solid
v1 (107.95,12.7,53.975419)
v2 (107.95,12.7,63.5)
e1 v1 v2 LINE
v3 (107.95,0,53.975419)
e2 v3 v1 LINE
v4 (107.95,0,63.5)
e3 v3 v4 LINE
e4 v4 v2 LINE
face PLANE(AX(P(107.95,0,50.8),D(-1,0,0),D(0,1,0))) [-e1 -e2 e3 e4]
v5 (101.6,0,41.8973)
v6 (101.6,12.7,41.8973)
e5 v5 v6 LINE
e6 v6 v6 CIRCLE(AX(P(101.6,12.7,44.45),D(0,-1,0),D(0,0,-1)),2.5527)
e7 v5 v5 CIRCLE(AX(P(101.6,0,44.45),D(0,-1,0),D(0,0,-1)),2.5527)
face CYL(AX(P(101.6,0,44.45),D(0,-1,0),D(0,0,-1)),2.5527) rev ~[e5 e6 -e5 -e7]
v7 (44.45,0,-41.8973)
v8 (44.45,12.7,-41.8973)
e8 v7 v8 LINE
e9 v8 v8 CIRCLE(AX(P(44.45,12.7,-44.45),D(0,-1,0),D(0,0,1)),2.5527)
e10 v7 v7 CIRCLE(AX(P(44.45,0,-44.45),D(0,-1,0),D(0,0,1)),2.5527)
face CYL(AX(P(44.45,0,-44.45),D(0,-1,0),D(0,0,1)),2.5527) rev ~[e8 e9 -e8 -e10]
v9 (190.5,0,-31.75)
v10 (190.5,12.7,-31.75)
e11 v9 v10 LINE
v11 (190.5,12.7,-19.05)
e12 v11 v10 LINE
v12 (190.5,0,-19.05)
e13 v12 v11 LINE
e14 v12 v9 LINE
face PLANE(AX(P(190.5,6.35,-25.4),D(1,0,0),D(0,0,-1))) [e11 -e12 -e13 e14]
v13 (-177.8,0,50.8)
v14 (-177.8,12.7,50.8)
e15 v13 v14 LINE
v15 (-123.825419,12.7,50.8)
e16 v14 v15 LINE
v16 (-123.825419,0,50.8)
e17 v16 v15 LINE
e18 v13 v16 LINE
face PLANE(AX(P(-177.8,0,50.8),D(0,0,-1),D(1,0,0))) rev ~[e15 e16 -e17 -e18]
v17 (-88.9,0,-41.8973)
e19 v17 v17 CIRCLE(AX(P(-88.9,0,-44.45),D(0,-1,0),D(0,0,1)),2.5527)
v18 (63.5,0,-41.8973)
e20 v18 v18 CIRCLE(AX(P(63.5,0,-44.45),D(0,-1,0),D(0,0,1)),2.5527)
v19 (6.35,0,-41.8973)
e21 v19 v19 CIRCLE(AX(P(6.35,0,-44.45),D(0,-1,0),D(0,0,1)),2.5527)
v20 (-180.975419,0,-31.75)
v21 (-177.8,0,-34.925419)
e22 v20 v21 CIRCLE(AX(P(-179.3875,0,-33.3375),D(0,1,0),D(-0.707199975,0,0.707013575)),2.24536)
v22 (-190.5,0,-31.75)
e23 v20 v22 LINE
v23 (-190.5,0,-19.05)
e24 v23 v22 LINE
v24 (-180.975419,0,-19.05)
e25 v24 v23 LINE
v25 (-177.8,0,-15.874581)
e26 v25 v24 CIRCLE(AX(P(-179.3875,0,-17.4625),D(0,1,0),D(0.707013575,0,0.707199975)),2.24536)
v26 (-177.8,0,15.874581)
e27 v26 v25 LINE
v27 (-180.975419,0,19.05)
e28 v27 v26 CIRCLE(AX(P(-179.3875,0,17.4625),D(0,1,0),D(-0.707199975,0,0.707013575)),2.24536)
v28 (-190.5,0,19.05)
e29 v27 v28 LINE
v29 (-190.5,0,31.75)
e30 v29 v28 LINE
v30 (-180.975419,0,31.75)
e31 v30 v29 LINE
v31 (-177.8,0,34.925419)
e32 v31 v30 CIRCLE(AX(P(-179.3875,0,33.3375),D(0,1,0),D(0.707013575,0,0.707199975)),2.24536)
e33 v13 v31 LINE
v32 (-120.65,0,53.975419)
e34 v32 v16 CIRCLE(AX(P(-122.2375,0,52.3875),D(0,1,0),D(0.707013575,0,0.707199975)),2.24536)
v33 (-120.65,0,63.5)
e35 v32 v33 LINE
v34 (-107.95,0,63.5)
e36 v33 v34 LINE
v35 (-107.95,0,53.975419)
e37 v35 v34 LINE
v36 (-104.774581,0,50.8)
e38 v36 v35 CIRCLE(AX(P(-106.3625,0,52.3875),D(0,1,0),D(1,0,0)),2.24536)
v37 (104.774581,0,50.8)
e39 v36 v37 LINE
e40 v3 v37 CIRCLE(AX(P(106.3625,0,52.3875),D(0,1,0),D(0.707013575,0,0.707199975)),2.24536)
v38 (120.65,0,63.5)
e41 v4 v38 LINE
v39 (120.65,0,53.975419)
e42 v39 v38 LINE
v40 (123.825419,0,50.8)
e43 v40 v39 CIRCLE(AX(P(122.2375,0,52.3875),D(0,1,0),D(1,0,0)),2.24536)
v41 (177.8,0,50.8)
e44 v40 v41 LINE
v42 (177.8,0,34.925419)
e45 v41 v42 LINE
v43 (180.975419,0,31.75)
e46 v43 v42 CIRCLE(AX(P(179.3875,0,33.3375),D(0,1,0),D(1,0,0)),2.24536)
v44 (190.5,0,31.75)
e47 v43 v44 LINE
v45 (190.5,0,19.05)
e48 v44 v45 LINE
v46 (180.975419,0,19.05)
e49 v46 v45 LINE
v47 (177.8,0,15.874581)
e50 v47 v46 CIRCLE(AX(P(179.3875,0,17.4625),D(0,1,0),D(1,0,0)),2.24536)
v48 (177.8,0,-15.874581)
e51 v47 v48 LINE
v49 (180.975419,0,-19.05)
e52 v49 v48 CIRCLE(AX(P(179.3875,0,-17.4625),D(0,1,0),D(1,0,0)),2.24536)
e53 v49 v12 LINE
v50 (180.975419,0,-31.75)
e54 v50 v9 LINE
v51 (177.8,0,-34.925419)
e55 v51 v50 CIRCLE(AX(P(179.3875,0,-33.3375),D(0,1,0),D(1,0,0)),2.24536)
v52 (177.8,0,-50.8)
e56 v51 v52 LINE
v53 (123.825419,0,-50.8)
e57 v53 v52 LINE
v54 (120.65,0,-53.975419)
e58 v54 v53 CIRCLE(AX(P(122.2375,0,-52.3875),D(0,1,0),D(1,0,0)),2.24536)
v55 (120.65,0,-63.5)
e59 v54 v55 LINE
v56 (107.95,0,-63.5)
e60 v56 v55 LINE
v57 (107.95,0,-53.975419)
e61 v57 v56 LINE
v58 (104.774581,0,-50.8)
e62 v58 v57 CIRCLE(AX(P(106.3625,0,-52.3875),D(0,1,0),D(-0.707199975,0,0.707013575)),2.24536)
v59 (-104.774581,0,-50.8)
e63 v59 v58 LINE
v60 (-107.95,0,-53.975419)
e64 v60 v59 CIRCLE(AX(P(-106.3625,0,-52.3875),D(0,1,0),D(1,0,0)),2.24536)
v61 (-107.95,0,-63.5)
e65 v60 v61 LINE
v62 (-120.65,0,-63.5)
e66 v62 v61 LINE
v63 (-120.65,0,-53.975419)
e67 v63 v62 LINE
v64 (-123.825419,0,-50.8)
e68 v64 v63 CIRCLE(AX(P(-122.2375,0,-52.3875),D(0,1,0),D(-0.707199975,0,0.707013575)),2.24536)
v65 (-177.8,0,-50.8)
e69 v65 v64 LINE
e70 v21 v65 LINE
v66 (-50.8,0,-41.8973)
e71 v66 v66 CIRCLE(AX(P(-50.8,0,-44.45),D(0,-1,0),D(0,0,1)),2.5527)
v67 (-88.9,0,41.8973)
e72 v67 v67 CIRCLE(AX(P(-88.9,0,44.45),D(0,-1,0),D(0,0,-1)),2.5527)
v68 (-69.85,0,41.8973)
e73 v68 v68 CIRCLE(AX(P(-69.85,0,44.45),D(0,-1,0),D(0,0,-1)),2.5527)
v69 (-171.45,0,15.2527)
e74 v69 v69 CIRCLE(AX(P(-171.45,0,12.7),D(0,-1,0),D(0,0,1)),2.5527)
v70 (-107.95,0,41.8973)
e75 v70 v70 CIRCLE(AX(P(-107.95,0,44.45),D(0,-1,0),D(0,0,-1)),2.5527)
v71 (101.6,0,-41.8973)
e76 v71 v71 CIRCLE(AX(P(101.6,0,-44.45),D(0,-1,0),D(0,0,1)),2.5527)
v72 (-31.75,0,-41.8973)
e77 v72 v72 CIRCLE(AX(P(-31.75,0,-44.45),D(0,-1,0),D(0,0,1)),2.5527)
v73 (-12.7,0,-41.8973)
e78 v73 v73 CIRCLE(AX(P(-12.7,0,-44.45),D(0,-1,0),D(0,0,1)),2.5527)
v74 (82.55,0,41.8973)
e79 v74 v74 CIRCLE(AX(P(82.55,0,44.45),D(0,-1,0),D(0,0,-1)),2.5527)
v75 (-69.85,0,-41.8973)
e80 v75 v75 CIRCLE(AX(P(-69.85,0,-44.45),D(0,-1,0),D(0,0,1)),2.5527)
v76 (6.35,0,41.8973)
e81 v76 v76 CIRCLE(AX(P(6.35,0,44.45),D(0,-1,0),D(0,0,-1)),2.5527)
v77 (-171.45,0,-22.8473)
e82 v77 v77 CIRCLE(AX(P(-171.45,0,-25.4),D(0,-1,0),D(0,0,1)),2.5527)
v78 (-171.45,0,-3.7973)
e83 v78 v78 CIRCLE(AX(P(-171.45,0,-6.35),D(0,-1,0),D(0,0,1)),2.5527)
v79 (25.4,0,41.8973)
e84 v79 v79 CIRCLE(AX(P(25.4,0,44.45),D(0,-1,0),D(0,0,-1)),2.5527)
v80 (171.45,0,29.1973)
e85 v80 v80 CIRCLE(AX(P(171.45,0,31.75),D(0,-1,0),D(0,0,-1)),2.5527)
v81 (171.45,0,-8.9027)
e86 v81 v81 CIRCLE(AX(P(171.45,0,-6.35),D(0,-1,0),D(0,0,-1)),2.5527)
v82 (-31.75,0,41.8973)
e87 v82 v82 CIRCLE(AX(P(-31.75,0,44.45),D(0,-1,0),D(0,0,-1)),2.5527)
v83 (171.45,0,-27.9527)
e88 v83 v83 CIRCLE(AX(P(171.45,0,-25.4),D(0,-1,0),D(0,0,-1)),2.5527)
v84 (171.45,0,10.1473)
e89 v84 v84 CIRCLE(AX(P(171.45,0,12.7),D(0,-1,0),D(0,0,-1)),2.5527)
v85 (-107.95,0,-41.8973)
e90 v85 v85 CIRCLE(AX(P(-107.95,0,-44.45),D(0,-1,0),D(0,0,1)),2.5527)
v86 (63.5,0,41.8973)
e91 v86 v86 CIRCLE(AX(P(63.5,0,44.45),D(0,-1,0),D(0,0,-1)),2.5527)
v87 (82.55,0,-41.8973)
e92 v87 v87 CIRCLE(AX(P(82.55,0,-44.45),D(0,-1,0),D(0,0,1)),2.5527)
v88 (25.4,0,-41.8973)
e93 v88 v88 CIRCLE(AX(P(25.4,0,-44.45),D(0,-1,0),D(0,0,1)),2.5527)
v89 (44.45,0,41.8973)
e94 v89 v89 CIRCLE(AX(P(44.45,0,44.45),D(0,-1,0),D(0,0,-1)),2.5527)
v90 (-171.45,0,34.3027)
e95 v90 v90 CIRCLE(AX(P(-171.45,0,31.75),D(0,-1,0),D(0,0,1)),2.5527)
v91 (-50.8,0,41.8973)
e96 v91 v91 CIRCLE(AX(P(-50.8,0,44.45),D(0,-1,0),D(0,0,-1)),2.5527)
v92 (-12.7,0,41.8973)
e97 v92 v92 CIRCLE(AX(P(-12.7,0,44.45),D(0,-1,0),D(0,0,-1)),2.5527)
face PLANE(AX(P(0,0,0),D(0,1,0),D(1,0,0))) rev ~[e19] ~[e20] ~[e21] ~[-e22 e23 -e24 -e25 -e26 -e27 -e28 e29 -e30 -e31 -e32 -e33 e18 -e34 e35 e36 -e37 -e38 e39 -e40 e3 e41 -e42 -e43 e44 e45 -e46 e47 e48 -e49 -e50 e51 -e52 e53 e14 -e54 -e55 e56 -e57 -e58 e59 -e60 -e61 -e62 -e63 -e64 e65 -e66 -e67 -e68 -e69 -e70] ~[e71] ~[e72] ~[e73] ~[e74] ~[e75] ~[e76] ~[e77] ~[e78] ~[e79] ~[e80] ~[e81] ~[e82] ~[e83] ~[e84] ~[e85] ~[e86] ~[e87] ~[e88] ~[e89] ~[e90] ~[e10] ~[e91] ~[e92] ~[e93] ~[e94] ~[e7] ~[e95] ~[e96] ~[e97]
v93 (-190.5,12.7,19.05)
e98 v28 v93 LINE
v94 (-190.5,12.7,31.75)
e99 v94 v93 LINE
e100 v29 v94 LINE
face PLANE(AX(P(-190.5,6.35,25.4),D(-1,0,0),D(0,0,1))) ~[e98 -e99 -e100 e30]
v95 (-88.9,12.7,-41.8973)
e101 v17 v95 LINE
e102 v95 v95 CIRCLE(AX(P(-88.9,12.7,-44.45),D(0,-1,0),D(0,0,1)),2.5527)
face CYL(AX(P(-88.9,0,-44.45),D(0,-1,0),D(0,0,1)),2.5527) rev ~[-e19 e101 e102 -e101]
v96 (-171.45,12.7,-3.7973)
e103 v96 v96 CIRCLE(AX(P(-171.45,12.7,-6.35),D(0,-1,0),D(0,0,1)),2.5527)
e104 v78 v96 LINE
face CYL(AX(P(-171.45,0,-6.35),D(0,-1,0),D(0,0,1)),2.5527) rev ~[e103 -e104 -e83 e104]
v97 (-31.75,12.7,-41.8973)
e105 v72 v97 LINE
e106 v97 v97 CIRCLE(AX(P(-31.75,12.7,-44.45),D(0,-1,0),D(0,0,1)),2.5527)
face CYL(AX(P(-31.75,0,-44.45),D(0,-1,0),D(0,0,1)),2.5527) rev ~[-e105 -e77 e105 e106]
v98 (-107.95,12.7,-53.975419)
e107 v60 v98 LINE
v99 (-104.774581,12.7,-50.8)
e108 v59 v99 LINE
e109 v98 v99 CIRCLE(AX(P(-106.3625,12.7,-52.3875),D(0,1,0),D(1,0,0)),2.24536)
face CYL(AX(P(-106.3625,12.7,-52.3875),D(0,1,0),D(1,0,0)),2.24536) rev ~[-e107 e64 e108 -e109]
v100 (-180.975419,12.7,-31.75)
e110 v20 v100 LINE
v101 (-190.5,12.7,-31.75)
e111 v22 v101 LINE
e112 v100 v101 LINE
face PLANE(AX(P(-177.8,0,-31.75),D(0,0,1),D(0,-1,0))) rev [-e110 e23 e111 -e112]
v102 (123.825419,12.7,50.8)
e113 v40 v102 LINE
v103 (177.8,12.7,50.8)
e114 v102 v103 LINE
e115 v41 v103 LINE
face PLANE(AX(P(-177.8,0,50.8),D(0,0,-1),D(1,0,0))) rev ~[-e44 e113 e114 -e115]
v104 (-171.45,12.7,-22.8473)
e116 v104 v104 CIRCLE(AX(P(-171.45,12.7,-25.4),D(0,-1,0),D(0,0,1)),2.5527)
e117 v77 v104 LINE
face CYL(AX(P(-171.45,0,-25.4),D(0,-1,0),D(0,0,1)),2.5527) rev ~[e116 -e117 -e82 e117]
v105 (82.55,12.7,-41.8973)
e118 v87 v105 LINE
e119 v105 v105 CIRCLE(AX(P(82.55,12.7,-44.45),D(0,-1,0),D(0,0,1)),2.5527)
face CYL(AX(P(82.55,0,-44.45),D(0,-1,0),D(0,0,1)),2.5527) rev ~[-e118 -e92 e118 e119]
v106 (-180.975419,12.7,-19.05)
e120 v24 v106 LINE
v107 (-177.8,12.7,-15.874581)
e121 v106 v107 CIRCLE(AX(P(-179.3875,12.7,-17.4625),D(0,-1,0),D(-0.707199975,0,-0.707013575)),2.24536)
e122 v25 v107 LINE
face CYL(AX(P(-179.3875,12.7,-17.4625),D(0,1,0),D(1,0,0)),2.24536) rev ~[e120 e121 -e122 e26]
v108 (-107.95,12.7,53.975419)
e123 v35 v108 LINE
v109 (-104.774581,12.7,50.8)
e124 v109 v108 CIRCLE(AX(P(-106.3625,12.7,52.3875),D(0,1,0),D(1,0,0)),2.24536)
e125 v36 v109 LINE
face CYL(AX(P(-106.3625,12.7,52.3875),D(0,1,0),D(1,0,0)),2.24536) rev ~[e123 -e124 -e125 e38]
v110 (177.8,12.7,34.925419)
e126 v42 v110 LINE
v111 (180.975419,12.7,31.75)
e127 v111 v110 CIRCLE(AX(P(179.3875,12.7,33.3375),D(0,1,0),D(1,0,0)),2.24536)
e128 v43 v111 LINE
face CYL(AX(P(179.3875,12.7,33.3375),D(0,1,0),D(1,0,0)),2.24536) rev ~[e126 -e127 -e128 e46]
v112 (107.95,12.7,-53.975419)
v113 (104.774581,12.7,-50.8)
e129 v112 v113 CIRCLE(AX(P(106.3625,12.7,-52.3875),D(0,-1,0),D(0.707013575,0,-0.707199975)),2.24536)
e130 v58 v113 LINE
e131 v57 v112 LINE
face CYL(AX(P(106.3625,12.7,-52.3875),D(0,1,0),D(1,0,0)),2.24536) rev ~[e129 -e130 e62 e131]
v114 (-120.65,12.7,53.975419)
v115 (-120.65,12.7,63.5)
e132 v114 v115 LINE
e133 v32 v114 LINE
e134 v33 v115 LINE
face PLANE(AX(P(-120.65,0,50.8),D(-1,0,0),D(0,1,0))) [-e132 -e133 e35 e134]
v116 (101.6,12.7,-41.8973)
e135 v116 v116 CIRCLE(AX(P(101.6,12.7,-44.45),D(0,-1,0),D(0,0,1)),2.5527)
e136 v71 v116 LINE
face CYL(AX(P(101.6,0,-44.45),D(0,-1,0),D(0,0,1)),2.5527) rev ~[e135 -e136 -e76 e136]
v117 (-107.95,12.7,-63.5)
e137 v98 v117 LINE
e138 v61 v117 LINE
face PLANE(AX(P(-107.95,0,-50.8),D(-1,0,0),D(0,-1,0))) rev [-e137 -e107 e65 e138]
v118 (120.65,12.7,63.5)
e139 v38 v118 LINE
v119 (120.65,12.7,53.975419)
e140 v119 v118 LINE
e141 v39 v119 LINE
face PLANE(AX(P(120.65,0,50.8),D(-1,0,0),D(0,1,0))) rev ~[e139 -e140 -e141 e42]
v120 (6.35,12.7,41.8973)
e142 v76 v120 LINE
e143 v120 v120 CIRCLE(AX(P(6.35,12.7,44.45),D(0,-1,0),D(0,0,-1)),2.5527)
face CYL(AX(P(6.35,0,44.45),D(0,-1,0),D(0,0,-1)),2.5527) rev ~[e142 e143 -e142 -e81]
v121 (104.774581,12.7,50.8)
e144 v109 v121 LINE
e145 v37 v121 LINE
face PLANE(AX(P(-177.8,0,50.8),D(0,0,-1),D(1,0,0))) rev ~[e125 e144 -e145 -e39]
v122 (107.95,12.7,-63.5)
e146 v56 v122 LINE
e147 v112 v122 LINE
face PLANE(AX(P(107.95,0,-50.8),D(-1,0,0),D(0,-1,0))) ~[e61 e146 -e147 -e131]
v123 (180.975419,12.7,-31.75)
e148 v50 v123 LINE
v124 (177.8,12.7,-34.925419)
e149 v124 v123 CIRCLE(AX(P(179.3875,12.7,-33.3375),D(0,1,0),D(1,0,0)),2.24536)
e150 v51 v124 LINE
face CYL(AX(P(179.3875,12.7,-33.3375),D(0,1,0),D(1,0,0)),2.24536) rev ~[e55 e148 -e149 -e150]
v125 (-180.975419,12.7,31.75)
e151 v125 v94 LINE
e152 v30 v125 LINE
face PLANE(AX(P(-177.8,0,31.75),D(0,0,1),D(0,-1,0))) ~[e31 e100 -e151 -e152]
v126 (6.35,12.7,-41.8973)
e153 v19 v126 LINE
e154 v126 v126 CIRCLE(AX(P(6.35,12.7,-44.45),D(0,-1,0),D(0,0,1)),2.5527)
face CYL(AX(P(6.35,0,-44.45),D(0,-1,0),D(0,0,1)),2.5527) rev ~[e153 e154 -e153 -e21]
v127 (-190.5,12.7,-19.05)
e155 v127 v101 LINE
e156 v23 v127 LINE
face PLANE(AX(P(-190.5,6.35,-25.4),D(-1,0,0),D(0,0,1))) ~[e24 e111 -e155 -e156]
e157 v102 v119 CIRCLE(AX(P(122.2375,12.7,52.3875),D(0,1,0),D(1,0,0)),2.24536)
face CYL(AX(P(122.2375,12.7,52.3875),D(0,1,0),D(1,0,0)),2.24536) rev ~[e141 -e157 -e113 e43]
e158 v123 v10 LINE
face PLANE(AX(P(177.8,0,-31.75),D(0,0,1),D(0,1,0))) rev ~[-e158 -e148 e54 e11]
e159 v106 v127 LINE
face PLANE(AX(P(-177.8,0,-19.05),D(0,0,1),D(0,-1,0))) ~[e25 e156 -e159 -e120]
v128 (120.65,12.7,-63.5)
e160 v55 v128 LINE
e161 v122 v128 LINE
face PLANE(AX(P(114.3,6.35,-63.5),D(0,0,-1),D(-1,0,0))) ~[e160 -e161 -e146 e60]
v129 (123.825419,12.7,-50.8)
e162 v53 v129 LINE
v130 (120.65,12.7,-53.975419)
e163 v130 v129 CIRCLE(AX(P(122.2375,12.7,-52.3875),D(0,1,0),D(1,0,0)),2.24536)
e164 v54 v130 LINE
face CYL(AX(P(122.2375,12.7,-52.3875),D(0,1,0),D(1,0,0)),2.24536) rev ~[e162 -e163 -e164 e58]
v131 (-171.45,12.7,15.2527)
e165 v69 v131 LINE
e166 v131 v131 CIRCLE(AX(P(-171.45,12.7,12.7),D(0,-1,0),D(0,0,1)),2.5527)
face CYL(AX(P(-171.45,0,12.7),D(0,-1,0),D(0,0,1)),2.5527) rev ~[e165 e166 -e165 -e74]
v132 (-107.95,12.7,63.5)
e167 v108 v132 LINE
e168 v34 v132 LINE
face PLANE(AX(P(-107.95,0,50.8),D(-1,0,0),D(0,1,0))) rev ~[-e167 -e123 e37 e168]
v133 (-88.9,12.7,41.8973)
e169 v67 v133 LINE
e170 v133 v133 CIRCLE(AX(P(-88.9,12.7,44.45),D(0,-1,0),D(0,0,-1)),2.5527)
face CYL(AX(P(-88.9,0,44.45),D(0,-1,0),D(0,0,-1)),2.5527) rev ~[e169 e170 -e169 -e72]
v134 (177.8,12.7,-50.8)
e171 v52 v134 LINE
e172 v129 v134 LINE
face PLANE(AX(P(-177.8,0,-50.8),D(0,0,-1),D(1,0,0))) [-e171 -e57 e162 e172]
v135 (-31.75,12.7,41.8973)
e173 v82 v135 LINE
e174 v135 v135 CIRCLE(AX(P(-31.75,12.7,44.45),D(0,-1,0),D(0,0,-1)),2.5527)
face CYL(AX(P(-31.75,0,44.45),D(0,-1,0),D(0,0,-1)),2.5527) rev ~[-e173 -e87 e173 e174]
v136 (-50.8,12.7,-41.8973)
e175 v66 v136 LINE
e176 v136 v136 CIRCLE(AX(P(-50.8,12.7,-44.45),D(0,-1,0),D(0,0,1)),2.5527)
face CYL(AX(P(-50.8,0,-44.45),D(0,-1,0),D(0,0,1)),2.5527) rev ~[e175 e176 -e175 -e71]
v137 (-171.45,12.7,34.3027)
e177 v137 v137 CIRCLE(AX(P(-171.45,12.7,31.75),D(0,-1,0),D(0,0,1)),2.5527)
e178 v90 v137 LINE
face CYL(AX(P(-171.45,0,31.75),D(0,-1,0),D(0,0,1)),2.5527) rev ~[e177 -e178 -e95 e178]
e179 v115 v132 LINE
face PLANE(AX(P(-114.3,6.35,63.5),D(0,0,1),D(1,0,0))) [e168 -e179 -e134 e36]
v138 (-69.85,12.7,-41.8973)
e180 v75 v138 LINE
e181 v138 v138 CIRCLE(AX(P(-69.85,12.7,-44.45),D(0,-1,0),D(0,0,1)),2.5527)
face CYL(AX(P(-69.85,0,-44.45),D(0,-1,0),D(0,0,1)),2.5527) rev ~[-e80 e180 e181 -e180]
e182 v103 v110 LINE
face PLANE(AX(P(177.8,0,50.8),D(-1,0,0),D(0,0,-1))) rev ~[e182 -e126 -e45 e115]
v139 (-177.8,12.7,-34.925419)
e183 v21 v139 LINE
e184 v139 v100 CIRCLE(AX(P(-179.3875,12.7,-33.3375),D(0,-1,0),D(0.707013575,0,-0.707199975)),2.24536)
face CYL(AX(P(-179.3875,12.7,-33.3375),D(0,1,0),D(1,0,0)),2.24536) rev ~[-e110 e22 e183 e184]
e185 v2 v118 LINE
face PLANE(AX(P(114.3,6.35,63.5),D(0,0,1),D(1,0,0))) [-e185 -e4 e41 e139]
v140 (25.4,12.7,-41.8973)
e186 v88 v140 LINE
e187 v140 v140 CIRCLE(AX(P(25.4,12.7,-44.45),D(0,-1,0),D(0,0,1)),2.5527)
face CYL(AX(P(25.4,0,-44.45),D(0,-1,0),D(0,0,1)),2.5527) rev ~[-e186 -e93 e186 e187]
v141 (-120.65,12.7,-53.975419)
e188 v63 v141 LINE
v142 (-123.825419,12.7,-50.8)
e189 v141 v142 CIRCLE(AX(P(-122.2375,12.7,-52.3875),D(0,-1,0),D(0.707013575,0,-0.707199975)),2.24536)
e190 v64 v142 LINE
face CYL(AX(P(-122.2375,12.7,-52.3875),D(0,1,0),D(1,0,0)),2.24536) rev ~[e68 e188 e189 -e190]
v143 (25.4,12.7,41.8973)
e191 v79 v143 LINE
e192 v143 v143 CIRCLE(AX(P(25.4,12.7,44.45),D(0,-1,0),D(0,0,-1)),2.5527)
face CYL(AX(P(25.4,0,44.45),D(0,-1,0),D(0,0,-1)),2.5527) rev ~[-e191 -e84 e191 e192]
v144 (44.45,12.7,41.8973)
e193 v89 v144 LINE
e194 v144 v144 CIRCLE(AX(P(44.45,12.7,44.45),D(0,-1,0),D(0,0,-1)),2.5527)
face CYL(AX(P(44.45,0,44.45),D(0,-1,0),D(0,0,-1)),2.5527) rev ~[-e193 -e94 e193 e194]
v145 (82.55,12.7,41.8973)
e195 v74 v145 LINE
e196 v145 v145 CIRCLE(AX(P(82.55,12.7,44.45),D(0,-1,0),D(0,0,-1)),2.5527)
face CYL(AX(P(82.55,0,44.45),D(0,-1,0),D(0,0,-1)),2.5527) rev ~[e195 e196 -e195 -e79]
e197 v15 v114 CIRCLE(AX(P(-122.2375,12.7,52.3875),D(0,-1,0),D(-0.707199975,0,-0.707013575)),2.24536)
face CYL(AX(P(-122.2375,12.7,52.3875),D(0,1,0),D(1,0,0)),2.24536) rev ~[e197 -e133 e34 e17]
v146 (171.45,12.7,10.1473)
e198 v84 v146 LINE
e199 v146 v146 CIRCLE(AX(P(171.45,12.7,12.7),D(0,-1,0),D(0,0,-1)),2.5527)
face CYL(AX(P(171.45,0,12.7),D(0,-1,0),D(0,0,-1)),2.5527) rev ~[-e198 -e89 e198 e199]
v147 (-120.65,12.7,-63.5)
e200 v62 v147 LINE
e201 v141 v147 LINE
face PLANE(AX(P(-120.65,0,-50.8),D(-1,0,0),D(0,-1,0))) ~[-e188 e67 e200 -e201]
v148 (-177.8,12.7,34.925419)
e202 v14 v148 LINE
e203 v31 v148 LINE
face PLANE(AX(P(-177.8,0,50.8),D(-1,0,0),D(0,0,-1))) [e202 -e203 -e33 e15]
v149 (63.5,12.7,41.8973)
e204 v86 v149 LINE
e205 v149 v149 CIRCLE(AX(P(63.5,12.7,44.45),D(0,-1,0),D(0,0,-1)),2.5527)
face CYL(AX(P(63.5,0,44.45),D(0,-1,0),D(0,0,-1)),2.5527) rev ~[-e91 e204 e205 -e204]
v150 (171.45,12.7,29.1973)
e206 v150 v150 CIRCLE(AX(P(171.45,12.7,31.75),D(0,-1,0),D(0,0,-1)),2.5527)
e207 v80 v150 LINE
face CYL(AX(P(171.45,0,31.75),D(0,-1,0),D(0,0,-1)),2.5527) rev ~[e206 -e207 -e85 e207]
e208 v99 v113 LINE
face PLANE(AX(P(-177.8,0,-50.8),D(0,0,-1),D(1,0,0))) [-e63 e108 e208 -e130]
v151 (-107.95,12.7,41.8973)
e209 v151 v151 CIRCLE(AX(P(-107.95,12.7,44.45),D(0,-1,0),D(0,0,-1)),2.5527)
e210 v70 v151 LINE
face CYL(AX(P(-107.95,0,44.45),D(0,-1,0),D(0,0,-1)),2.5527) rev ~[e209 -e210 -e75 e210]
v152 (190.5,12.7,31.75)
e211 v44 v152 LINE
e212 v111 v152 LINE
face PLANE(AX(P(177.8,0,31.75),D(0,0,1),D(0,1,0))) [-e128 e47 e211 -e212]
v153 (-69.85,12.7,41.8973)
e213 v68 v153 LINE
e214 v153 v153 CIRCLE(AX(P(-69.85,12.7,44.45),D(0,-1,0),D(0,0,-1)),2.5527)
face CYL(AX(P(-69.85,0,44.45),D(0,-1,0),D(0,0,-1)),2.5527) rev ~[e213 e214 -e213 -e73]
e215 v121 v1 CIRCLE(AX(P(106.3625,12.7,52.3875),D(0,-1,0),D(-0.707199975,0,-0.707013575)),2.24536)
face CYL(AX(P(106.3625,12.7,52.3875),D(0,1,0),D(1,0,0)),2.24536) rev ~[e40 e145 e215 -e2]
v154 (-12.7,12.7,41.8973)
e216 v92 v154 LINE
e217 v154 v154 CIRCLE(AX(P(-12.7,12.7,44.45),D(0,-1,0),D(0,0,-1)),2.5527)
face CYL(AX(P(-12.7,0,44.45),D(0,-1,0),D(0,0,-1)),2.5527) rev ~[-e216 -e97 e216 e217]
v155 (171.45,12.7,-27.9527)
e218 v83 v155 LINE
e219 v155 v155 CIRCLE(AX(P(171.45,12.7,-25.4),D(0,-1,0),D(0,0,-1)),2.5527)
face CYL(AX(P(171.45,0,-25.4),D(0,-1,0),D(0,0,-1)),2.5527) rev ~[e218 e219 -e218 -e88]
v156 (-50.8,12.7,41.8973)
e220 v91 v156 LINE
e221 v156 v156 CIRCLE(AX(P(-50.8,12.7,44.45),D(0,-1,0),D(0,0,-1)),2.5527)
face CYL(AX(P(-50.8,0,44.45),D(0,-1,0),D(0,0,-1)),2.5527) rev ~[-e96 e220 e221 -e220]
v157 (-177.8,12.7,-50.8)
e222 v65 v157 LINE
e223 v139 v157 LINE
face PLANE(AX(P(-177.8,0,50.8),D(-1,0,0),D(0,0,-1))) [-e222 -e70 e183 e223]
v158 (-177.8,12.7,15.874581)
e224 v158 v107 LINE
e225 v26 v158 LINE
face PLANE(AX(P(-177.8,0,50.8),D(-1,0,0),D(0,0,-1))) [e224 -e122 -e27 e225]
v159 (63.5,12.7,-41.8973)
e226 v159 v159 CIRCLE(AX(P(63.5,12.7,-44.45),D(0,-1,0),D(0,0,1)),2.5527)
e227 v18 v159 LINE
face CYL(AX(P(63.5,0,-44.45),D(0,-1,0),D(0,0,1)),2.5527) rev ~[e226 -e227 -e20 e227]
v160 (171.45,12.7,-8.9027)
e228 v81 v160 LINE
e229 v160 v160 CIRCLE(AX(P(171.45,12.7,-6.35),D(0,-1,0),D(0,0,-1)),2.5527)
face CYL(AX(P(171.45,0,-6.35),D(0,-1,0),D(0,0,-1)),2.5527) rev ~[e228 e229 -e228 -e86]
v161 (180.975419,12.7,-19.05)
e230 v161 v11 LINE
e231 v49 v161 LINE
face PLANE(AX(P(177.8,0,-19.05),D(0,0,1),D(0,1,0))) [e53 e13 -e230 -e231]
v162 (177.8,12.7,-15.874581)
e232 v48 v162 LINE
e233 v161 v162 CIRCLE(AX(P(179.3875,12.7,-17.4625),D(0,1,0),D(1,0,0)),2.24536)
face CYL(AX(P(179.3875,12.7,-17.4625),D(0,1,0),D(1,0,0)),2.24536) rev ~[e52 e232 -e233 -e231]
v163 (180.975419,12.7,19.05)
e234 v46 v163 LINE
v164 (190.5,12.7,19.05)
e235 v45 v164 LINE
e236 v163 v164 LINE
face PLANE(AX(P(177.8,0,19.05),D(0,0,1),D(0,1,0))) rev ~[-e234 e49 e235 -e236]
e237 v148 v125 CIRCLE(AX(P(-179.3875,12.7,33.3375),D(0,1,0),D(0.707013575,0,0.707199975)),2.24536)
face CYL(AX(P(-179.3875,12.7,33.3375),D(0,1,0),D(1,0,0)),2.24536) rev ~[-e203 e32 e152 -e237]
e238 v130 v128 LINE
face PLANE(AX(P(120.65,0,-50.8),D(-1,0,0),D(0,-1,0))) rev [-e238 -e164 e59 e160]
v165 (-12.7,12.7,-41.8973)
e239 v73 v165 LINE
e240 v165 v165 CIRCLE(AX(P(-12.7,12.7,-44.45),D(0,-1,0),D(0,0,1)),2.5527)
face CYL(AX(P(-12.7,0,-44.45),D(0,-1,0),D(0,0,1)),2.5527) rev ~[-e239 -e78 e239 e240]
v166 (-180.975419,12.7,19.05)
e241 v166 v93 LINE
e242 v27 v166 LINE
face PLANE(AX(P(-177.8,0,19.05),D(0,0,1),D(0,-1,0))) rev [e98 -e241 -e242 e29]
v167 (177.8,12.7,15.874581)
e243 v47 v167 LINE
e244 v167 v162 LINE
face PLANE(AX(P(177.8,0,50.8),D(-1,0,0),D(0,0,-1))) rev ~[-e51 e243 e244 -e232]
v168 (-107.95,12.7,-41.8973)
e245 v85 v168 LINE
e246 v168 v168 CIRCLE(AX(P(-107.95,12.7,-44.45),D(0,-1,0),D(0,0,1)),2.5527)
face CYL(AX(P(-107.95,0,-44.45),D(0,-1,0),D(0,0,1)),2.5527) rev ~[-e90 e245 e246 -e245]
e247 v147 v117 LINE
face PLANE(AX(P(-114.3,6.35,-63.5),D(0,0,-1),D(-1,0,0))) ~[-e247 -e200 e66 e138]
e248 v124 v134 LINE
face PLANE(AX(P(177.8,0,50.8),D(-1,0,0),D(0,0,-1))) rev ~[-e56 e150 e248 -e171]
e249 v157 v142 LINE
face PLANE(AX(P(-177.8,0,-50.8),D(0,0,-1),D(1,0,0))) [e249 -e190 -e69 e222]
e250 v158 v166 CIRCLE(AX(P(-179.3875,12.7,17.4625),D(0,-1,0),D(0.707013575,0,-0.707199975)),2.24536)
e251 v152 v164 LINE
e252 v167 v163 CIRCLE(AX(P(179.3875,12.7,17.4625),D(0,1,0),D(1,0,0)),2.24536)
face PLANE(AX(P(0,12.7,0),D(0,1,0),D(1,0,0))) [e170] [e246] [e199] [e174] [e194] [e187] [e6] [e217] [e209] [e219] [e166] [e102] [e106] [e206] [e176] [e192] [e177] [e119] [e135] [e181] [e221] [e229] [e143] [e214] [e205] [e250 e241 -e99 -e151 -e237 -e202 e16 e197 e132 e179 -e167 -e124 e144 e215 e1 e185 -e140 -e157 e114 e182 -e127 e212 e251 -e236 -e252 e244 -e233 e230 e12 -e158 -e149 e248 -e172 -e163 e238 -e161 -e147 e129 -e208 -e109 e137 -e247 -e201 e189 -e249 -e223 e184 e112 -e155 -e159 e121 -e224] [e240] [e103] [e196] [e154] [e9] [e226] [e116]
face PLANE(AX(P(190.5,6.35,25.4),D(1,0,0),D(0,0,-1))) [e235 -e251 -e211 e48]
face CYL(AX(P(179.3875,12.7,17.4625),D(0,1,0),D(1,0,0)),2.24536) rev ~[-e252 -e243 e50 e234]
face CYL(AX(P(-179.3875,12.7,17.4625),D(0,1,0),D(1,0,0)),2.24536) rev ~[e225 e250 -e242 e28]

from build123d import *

# Parameters (mm, degrees)
SKETCH2_W                  = 355.6
SKETCH2_H                  = 101.6
RECTANGLE_EXTRUSION_DEPTH  = 12.7
SKETCH4_W                  = 12.7
SKETCH4_H                  = 12.7
FRONT_FACE_TABS_DEPTH      = 12.7
SKETCH6_R                  = 2.24536
TAB_CURVE_FRONT_BACK_DEPTH = 12.7
SKETCH7_W                  = 12.7
SKETCH7_H                  = 12.7
RIGHT_FACE_TABS_DEPTH      = 12.7
SKETCH8_R                  = 2.24536
TAB_CURVE_LEFT_RIGHT_DEPTH = 12.7
SKETCH9_R                  = 2.5527
CUT_EXTRUDE1_DEPTH         = 202.205839875


with BuildPart() as part:
    # Sketch2 → Rectangle Extrusion (new body)
    with BuildSketch(Plane(origin=(0, 0, 0), x_dir=(1, 0, 0), z_dir=(0, 1, 0))):
        Rectangle(SKETCH2_W, SKETCH2_H)
    extrude(amount=RECTANGLE_EXTRUSION_DEPTH)

    # Sketch4 → Front Face Tabs (add)
    with BuildSketch(Plane.XY.offset(50.8)):
        with Locations((-114.3, 6.35)):
            Rectangle(SKETCH4_W, SKETCH4_H)
        with Locations((114.3, 6.35)):
            Rectangle(SKETCH4_W, SKETCH4_H)
    front_face_tabs = extrude(amount=FRONT_FACE_TABS_DEPTH)

    # Mirror Rear Face Tabs: Front Face Tabs across plane
    add(front_face_tabs.mirror(Plane.XY))

    # Sketch6 → Tab Curve Front Back (cut)
    with BuildSketch(Plane(origin=(0, 12.7, 0), x_dir=(1, 0, 0), z_dir=(0, 1, 0))):
        with Locations((-122.2375, 52.3875)):
            Circle(SKETCH6_R)
        with Locations((-106.3625, 52.3875)):
            Circle(SKETCH6_R)
        with Locations((106.3625, 52.3875)):
            Circle(SKETCH6_R)
        with Locations((122.2375, 52.3875)):
            Circle(SKETCH6_R)
        with Locations((122.2375, -52.3875)):
            Circle(SKETCH6_R)
        with Locations((106.3625, -52.3875)):
            Circle(SKETCH6_R)
        with Locations((-106.3625, -52.3875)):
            Circle(SKETCH6_R)
        with Locations((-122.2375, -52.3875)):
            Circle(SKETCH6_R)
    extrude(amount=-TAB_CURVE_FRONT_BACK_DEPTH, mode=Mode.SUBTRACT)

    # Sketch7 → Right Face Tabs (add)
    with BuildSketch(Plane(origin=(177.8, 0, 0), x_dir=(0, 0, -1), z_dir=(1, 0, 0))):
        with Locations((-25.4, 6.35)):
            Rectangle(SKETCH7_W, SKETCH7_H)
        with Locations((25.4, 6.35)):
            Rectangle(SKETCH7_W, SKETCH7_H)
    right_face_tabs = extrude(amount=RIGHT_FACE_TABS_DEPTH)

    # Mirror Left Face Tabs: Right Face Tabs across plane
    add(right_face_tabs.mirror(Plane(origin=(0, 0, 0), x_dir=(0, 0, 1), z_dir=(1, 0, 0))))

    # Sketch8 → Tab Curve Left Right (cut)
    with BuildSketch(Plane(origin=(0, 12.7, 0), x_dir=(1, 0, 0), z_dir=(0, 1, 0))):
        with Locations((179.3875, 33.3375)):
            Circle(SKETCH8_R)
        with Locations((179.3875, 17.4625)):
            Circle(SKETCH8_R)
        with Locations((179.3875, -17.4625)):
            Circle(SKETCH8_R)
        with Locations((179.3875, -33.3375)):
            Circle(SKETCH8_R)
        with Locations((-179.3875, -33.3375)):
            Circle(SKETCH8_R)
        with Locations((-179.3875, -17.4625)):
            Circle(SKETCH8_R)
        with Locations((-179.3875, 17.4625)):
            Circle(SKETCH8_R)
        with Locations((-179.3875, 33.3375)):
            Circle(SKETCH8_R)
    extrude(amount=-TAB_CURVE_LEFT_RIGHT_DEPTH, mode=Mode.SUBTRACT)

    # Sketch9 → Cut-Extrude1 (cut, through all)
    with BuildSketch(Plane.XZ):
        with Locations(Location((-107.95, 44.45, 0), (0, 0, 270))):
            Circle(SKETCH9_R)
        with Locations(Location((-88.9, 44.45, 0), (0, 0, 270))):
            Circle(SKETCH9_R)
        with Locations(Location((-69.85, 44.45, 0), (0, 0, 270))):
            Circle(SKETCH9_R)
        with Locations(Location((-50.8, 44.45, 0), (0, 0, 270))):
            Circle(SKETCH9_R)
        with Locations(Location((-31.75, 44.45, 0), (0, 0, 270))):
            Circle(SKETCH9_R)
        with Locations(Location((-12.7, 44.45, 0), (0, 0, 270))):
            Circle(SKETCH9_R)
        with Locations(Location((6.35, 44.45, 0), (0, 0, 270))):
            Circle(SKETCH9_R)
        with Locations(Location((25.4, 44.45, 0), (0, 0, 270))):
            Circle(SKETCH9_R)
        with Locations(Location((44.45, 44.45, 0), (0, 0, 270))):
            Circle(SKETCH9_R)
        with Locations(Location((63.5, 44.45, 0), (0, 0, 270))):
            Circle(SKETCH9_R)
        with Locations(Location((82.55, 44.45, 0), (0, 0, 270))):
            Circle(SKETCH9_R)
        with Locations(Location((101.6, 44.45, 0), (0, 0, 270))):
            Circle(SKETCH9_R)
        with Locations(Location((101.6, -44.45, 0), (0, 0, 90))):
            Circle(SKETCH9_R)
        with Locations(Location((82.55, -44.45, 0), (0, 0, 90))):
            Circle(SKETCH9_R)
        with Locations(Location((63.5, -44.45, 0), (0, 0, 90))):
            Circle(SKETCH9_R)
        with Locations(Location((44.45, -44.45, 0), (0, 0, 90))):
            Circle(SKETCH9_R)
        with Locations(Location((25.4, -44.45, 0), (0, 0, 90))):
            Circle(SKETCH9_R)
        with Locations(Location((6.35, -44.45, 0), (0, 0, 90))):
            Circle(SKETCH9_R)
        with Locations(Location((-12.7, -44.45, 0), (0, 0, 90))):
            Circle(SKETCH9_R)
        with Locations(Location((-31.75, -44.45, 0), (0, 0, 90))):
            Circle(SKETCH9_R)
        with Locations(Location((-50.8, -44.45, 0), (0, 0, 90))):
            Circle(SKETCH9_R)
        with Locations(Location((-69.85, -44.45, 0), (0, 0, 90))):
            Circle(SKETCH9_R)
        with Locations(Location((-88.9, -44.45, 0), (0, 0, 90))):
            Circle(SKETCH9_R)
        with Locations(Location((-107.95, -44.45, 0), (0, 0, 90))):
            Circle(SKETCH9_R)
        with Locations(Location((171.45, -25.4, 0), (0, 0, 270))):
            Circle(SKETCH9_R)
        with Locations(Location((171.45, -6.35, 0), (0, 0, 270))):
            Circle(SKETCH9_R)
        with Locations(Location((171.45, 12.7, 0), (0, 0, 270))):
            Circle(SKETCH9_R)
        with Locations(Location((171.45, 31.75, 0), (0, 0, 270))):
            Circle(SKETCH9_R)
        with Locations(Location((-171.45, -25.4, 0), (0, 0, 90))):
            Circle(SKETCH9_R)
        with Locations(Location((-171.45, -6.35, 0), (0, 0, 90))):
            Circle(SKETCH9_R)
        with Locations(Location((-171.45, 12.7, 0), (0, 0, 90))):
            Circle(SKETCH9_R)
        with Locations(Location((-171.45, 31.75, 0), (0, 0, 90))):
            Circle(SKETCH9_R)
    extrude(amount=-CUT_EXTRUDE1_DEPTH, mode=Mode.SUBTRACT)


solid = part.part
